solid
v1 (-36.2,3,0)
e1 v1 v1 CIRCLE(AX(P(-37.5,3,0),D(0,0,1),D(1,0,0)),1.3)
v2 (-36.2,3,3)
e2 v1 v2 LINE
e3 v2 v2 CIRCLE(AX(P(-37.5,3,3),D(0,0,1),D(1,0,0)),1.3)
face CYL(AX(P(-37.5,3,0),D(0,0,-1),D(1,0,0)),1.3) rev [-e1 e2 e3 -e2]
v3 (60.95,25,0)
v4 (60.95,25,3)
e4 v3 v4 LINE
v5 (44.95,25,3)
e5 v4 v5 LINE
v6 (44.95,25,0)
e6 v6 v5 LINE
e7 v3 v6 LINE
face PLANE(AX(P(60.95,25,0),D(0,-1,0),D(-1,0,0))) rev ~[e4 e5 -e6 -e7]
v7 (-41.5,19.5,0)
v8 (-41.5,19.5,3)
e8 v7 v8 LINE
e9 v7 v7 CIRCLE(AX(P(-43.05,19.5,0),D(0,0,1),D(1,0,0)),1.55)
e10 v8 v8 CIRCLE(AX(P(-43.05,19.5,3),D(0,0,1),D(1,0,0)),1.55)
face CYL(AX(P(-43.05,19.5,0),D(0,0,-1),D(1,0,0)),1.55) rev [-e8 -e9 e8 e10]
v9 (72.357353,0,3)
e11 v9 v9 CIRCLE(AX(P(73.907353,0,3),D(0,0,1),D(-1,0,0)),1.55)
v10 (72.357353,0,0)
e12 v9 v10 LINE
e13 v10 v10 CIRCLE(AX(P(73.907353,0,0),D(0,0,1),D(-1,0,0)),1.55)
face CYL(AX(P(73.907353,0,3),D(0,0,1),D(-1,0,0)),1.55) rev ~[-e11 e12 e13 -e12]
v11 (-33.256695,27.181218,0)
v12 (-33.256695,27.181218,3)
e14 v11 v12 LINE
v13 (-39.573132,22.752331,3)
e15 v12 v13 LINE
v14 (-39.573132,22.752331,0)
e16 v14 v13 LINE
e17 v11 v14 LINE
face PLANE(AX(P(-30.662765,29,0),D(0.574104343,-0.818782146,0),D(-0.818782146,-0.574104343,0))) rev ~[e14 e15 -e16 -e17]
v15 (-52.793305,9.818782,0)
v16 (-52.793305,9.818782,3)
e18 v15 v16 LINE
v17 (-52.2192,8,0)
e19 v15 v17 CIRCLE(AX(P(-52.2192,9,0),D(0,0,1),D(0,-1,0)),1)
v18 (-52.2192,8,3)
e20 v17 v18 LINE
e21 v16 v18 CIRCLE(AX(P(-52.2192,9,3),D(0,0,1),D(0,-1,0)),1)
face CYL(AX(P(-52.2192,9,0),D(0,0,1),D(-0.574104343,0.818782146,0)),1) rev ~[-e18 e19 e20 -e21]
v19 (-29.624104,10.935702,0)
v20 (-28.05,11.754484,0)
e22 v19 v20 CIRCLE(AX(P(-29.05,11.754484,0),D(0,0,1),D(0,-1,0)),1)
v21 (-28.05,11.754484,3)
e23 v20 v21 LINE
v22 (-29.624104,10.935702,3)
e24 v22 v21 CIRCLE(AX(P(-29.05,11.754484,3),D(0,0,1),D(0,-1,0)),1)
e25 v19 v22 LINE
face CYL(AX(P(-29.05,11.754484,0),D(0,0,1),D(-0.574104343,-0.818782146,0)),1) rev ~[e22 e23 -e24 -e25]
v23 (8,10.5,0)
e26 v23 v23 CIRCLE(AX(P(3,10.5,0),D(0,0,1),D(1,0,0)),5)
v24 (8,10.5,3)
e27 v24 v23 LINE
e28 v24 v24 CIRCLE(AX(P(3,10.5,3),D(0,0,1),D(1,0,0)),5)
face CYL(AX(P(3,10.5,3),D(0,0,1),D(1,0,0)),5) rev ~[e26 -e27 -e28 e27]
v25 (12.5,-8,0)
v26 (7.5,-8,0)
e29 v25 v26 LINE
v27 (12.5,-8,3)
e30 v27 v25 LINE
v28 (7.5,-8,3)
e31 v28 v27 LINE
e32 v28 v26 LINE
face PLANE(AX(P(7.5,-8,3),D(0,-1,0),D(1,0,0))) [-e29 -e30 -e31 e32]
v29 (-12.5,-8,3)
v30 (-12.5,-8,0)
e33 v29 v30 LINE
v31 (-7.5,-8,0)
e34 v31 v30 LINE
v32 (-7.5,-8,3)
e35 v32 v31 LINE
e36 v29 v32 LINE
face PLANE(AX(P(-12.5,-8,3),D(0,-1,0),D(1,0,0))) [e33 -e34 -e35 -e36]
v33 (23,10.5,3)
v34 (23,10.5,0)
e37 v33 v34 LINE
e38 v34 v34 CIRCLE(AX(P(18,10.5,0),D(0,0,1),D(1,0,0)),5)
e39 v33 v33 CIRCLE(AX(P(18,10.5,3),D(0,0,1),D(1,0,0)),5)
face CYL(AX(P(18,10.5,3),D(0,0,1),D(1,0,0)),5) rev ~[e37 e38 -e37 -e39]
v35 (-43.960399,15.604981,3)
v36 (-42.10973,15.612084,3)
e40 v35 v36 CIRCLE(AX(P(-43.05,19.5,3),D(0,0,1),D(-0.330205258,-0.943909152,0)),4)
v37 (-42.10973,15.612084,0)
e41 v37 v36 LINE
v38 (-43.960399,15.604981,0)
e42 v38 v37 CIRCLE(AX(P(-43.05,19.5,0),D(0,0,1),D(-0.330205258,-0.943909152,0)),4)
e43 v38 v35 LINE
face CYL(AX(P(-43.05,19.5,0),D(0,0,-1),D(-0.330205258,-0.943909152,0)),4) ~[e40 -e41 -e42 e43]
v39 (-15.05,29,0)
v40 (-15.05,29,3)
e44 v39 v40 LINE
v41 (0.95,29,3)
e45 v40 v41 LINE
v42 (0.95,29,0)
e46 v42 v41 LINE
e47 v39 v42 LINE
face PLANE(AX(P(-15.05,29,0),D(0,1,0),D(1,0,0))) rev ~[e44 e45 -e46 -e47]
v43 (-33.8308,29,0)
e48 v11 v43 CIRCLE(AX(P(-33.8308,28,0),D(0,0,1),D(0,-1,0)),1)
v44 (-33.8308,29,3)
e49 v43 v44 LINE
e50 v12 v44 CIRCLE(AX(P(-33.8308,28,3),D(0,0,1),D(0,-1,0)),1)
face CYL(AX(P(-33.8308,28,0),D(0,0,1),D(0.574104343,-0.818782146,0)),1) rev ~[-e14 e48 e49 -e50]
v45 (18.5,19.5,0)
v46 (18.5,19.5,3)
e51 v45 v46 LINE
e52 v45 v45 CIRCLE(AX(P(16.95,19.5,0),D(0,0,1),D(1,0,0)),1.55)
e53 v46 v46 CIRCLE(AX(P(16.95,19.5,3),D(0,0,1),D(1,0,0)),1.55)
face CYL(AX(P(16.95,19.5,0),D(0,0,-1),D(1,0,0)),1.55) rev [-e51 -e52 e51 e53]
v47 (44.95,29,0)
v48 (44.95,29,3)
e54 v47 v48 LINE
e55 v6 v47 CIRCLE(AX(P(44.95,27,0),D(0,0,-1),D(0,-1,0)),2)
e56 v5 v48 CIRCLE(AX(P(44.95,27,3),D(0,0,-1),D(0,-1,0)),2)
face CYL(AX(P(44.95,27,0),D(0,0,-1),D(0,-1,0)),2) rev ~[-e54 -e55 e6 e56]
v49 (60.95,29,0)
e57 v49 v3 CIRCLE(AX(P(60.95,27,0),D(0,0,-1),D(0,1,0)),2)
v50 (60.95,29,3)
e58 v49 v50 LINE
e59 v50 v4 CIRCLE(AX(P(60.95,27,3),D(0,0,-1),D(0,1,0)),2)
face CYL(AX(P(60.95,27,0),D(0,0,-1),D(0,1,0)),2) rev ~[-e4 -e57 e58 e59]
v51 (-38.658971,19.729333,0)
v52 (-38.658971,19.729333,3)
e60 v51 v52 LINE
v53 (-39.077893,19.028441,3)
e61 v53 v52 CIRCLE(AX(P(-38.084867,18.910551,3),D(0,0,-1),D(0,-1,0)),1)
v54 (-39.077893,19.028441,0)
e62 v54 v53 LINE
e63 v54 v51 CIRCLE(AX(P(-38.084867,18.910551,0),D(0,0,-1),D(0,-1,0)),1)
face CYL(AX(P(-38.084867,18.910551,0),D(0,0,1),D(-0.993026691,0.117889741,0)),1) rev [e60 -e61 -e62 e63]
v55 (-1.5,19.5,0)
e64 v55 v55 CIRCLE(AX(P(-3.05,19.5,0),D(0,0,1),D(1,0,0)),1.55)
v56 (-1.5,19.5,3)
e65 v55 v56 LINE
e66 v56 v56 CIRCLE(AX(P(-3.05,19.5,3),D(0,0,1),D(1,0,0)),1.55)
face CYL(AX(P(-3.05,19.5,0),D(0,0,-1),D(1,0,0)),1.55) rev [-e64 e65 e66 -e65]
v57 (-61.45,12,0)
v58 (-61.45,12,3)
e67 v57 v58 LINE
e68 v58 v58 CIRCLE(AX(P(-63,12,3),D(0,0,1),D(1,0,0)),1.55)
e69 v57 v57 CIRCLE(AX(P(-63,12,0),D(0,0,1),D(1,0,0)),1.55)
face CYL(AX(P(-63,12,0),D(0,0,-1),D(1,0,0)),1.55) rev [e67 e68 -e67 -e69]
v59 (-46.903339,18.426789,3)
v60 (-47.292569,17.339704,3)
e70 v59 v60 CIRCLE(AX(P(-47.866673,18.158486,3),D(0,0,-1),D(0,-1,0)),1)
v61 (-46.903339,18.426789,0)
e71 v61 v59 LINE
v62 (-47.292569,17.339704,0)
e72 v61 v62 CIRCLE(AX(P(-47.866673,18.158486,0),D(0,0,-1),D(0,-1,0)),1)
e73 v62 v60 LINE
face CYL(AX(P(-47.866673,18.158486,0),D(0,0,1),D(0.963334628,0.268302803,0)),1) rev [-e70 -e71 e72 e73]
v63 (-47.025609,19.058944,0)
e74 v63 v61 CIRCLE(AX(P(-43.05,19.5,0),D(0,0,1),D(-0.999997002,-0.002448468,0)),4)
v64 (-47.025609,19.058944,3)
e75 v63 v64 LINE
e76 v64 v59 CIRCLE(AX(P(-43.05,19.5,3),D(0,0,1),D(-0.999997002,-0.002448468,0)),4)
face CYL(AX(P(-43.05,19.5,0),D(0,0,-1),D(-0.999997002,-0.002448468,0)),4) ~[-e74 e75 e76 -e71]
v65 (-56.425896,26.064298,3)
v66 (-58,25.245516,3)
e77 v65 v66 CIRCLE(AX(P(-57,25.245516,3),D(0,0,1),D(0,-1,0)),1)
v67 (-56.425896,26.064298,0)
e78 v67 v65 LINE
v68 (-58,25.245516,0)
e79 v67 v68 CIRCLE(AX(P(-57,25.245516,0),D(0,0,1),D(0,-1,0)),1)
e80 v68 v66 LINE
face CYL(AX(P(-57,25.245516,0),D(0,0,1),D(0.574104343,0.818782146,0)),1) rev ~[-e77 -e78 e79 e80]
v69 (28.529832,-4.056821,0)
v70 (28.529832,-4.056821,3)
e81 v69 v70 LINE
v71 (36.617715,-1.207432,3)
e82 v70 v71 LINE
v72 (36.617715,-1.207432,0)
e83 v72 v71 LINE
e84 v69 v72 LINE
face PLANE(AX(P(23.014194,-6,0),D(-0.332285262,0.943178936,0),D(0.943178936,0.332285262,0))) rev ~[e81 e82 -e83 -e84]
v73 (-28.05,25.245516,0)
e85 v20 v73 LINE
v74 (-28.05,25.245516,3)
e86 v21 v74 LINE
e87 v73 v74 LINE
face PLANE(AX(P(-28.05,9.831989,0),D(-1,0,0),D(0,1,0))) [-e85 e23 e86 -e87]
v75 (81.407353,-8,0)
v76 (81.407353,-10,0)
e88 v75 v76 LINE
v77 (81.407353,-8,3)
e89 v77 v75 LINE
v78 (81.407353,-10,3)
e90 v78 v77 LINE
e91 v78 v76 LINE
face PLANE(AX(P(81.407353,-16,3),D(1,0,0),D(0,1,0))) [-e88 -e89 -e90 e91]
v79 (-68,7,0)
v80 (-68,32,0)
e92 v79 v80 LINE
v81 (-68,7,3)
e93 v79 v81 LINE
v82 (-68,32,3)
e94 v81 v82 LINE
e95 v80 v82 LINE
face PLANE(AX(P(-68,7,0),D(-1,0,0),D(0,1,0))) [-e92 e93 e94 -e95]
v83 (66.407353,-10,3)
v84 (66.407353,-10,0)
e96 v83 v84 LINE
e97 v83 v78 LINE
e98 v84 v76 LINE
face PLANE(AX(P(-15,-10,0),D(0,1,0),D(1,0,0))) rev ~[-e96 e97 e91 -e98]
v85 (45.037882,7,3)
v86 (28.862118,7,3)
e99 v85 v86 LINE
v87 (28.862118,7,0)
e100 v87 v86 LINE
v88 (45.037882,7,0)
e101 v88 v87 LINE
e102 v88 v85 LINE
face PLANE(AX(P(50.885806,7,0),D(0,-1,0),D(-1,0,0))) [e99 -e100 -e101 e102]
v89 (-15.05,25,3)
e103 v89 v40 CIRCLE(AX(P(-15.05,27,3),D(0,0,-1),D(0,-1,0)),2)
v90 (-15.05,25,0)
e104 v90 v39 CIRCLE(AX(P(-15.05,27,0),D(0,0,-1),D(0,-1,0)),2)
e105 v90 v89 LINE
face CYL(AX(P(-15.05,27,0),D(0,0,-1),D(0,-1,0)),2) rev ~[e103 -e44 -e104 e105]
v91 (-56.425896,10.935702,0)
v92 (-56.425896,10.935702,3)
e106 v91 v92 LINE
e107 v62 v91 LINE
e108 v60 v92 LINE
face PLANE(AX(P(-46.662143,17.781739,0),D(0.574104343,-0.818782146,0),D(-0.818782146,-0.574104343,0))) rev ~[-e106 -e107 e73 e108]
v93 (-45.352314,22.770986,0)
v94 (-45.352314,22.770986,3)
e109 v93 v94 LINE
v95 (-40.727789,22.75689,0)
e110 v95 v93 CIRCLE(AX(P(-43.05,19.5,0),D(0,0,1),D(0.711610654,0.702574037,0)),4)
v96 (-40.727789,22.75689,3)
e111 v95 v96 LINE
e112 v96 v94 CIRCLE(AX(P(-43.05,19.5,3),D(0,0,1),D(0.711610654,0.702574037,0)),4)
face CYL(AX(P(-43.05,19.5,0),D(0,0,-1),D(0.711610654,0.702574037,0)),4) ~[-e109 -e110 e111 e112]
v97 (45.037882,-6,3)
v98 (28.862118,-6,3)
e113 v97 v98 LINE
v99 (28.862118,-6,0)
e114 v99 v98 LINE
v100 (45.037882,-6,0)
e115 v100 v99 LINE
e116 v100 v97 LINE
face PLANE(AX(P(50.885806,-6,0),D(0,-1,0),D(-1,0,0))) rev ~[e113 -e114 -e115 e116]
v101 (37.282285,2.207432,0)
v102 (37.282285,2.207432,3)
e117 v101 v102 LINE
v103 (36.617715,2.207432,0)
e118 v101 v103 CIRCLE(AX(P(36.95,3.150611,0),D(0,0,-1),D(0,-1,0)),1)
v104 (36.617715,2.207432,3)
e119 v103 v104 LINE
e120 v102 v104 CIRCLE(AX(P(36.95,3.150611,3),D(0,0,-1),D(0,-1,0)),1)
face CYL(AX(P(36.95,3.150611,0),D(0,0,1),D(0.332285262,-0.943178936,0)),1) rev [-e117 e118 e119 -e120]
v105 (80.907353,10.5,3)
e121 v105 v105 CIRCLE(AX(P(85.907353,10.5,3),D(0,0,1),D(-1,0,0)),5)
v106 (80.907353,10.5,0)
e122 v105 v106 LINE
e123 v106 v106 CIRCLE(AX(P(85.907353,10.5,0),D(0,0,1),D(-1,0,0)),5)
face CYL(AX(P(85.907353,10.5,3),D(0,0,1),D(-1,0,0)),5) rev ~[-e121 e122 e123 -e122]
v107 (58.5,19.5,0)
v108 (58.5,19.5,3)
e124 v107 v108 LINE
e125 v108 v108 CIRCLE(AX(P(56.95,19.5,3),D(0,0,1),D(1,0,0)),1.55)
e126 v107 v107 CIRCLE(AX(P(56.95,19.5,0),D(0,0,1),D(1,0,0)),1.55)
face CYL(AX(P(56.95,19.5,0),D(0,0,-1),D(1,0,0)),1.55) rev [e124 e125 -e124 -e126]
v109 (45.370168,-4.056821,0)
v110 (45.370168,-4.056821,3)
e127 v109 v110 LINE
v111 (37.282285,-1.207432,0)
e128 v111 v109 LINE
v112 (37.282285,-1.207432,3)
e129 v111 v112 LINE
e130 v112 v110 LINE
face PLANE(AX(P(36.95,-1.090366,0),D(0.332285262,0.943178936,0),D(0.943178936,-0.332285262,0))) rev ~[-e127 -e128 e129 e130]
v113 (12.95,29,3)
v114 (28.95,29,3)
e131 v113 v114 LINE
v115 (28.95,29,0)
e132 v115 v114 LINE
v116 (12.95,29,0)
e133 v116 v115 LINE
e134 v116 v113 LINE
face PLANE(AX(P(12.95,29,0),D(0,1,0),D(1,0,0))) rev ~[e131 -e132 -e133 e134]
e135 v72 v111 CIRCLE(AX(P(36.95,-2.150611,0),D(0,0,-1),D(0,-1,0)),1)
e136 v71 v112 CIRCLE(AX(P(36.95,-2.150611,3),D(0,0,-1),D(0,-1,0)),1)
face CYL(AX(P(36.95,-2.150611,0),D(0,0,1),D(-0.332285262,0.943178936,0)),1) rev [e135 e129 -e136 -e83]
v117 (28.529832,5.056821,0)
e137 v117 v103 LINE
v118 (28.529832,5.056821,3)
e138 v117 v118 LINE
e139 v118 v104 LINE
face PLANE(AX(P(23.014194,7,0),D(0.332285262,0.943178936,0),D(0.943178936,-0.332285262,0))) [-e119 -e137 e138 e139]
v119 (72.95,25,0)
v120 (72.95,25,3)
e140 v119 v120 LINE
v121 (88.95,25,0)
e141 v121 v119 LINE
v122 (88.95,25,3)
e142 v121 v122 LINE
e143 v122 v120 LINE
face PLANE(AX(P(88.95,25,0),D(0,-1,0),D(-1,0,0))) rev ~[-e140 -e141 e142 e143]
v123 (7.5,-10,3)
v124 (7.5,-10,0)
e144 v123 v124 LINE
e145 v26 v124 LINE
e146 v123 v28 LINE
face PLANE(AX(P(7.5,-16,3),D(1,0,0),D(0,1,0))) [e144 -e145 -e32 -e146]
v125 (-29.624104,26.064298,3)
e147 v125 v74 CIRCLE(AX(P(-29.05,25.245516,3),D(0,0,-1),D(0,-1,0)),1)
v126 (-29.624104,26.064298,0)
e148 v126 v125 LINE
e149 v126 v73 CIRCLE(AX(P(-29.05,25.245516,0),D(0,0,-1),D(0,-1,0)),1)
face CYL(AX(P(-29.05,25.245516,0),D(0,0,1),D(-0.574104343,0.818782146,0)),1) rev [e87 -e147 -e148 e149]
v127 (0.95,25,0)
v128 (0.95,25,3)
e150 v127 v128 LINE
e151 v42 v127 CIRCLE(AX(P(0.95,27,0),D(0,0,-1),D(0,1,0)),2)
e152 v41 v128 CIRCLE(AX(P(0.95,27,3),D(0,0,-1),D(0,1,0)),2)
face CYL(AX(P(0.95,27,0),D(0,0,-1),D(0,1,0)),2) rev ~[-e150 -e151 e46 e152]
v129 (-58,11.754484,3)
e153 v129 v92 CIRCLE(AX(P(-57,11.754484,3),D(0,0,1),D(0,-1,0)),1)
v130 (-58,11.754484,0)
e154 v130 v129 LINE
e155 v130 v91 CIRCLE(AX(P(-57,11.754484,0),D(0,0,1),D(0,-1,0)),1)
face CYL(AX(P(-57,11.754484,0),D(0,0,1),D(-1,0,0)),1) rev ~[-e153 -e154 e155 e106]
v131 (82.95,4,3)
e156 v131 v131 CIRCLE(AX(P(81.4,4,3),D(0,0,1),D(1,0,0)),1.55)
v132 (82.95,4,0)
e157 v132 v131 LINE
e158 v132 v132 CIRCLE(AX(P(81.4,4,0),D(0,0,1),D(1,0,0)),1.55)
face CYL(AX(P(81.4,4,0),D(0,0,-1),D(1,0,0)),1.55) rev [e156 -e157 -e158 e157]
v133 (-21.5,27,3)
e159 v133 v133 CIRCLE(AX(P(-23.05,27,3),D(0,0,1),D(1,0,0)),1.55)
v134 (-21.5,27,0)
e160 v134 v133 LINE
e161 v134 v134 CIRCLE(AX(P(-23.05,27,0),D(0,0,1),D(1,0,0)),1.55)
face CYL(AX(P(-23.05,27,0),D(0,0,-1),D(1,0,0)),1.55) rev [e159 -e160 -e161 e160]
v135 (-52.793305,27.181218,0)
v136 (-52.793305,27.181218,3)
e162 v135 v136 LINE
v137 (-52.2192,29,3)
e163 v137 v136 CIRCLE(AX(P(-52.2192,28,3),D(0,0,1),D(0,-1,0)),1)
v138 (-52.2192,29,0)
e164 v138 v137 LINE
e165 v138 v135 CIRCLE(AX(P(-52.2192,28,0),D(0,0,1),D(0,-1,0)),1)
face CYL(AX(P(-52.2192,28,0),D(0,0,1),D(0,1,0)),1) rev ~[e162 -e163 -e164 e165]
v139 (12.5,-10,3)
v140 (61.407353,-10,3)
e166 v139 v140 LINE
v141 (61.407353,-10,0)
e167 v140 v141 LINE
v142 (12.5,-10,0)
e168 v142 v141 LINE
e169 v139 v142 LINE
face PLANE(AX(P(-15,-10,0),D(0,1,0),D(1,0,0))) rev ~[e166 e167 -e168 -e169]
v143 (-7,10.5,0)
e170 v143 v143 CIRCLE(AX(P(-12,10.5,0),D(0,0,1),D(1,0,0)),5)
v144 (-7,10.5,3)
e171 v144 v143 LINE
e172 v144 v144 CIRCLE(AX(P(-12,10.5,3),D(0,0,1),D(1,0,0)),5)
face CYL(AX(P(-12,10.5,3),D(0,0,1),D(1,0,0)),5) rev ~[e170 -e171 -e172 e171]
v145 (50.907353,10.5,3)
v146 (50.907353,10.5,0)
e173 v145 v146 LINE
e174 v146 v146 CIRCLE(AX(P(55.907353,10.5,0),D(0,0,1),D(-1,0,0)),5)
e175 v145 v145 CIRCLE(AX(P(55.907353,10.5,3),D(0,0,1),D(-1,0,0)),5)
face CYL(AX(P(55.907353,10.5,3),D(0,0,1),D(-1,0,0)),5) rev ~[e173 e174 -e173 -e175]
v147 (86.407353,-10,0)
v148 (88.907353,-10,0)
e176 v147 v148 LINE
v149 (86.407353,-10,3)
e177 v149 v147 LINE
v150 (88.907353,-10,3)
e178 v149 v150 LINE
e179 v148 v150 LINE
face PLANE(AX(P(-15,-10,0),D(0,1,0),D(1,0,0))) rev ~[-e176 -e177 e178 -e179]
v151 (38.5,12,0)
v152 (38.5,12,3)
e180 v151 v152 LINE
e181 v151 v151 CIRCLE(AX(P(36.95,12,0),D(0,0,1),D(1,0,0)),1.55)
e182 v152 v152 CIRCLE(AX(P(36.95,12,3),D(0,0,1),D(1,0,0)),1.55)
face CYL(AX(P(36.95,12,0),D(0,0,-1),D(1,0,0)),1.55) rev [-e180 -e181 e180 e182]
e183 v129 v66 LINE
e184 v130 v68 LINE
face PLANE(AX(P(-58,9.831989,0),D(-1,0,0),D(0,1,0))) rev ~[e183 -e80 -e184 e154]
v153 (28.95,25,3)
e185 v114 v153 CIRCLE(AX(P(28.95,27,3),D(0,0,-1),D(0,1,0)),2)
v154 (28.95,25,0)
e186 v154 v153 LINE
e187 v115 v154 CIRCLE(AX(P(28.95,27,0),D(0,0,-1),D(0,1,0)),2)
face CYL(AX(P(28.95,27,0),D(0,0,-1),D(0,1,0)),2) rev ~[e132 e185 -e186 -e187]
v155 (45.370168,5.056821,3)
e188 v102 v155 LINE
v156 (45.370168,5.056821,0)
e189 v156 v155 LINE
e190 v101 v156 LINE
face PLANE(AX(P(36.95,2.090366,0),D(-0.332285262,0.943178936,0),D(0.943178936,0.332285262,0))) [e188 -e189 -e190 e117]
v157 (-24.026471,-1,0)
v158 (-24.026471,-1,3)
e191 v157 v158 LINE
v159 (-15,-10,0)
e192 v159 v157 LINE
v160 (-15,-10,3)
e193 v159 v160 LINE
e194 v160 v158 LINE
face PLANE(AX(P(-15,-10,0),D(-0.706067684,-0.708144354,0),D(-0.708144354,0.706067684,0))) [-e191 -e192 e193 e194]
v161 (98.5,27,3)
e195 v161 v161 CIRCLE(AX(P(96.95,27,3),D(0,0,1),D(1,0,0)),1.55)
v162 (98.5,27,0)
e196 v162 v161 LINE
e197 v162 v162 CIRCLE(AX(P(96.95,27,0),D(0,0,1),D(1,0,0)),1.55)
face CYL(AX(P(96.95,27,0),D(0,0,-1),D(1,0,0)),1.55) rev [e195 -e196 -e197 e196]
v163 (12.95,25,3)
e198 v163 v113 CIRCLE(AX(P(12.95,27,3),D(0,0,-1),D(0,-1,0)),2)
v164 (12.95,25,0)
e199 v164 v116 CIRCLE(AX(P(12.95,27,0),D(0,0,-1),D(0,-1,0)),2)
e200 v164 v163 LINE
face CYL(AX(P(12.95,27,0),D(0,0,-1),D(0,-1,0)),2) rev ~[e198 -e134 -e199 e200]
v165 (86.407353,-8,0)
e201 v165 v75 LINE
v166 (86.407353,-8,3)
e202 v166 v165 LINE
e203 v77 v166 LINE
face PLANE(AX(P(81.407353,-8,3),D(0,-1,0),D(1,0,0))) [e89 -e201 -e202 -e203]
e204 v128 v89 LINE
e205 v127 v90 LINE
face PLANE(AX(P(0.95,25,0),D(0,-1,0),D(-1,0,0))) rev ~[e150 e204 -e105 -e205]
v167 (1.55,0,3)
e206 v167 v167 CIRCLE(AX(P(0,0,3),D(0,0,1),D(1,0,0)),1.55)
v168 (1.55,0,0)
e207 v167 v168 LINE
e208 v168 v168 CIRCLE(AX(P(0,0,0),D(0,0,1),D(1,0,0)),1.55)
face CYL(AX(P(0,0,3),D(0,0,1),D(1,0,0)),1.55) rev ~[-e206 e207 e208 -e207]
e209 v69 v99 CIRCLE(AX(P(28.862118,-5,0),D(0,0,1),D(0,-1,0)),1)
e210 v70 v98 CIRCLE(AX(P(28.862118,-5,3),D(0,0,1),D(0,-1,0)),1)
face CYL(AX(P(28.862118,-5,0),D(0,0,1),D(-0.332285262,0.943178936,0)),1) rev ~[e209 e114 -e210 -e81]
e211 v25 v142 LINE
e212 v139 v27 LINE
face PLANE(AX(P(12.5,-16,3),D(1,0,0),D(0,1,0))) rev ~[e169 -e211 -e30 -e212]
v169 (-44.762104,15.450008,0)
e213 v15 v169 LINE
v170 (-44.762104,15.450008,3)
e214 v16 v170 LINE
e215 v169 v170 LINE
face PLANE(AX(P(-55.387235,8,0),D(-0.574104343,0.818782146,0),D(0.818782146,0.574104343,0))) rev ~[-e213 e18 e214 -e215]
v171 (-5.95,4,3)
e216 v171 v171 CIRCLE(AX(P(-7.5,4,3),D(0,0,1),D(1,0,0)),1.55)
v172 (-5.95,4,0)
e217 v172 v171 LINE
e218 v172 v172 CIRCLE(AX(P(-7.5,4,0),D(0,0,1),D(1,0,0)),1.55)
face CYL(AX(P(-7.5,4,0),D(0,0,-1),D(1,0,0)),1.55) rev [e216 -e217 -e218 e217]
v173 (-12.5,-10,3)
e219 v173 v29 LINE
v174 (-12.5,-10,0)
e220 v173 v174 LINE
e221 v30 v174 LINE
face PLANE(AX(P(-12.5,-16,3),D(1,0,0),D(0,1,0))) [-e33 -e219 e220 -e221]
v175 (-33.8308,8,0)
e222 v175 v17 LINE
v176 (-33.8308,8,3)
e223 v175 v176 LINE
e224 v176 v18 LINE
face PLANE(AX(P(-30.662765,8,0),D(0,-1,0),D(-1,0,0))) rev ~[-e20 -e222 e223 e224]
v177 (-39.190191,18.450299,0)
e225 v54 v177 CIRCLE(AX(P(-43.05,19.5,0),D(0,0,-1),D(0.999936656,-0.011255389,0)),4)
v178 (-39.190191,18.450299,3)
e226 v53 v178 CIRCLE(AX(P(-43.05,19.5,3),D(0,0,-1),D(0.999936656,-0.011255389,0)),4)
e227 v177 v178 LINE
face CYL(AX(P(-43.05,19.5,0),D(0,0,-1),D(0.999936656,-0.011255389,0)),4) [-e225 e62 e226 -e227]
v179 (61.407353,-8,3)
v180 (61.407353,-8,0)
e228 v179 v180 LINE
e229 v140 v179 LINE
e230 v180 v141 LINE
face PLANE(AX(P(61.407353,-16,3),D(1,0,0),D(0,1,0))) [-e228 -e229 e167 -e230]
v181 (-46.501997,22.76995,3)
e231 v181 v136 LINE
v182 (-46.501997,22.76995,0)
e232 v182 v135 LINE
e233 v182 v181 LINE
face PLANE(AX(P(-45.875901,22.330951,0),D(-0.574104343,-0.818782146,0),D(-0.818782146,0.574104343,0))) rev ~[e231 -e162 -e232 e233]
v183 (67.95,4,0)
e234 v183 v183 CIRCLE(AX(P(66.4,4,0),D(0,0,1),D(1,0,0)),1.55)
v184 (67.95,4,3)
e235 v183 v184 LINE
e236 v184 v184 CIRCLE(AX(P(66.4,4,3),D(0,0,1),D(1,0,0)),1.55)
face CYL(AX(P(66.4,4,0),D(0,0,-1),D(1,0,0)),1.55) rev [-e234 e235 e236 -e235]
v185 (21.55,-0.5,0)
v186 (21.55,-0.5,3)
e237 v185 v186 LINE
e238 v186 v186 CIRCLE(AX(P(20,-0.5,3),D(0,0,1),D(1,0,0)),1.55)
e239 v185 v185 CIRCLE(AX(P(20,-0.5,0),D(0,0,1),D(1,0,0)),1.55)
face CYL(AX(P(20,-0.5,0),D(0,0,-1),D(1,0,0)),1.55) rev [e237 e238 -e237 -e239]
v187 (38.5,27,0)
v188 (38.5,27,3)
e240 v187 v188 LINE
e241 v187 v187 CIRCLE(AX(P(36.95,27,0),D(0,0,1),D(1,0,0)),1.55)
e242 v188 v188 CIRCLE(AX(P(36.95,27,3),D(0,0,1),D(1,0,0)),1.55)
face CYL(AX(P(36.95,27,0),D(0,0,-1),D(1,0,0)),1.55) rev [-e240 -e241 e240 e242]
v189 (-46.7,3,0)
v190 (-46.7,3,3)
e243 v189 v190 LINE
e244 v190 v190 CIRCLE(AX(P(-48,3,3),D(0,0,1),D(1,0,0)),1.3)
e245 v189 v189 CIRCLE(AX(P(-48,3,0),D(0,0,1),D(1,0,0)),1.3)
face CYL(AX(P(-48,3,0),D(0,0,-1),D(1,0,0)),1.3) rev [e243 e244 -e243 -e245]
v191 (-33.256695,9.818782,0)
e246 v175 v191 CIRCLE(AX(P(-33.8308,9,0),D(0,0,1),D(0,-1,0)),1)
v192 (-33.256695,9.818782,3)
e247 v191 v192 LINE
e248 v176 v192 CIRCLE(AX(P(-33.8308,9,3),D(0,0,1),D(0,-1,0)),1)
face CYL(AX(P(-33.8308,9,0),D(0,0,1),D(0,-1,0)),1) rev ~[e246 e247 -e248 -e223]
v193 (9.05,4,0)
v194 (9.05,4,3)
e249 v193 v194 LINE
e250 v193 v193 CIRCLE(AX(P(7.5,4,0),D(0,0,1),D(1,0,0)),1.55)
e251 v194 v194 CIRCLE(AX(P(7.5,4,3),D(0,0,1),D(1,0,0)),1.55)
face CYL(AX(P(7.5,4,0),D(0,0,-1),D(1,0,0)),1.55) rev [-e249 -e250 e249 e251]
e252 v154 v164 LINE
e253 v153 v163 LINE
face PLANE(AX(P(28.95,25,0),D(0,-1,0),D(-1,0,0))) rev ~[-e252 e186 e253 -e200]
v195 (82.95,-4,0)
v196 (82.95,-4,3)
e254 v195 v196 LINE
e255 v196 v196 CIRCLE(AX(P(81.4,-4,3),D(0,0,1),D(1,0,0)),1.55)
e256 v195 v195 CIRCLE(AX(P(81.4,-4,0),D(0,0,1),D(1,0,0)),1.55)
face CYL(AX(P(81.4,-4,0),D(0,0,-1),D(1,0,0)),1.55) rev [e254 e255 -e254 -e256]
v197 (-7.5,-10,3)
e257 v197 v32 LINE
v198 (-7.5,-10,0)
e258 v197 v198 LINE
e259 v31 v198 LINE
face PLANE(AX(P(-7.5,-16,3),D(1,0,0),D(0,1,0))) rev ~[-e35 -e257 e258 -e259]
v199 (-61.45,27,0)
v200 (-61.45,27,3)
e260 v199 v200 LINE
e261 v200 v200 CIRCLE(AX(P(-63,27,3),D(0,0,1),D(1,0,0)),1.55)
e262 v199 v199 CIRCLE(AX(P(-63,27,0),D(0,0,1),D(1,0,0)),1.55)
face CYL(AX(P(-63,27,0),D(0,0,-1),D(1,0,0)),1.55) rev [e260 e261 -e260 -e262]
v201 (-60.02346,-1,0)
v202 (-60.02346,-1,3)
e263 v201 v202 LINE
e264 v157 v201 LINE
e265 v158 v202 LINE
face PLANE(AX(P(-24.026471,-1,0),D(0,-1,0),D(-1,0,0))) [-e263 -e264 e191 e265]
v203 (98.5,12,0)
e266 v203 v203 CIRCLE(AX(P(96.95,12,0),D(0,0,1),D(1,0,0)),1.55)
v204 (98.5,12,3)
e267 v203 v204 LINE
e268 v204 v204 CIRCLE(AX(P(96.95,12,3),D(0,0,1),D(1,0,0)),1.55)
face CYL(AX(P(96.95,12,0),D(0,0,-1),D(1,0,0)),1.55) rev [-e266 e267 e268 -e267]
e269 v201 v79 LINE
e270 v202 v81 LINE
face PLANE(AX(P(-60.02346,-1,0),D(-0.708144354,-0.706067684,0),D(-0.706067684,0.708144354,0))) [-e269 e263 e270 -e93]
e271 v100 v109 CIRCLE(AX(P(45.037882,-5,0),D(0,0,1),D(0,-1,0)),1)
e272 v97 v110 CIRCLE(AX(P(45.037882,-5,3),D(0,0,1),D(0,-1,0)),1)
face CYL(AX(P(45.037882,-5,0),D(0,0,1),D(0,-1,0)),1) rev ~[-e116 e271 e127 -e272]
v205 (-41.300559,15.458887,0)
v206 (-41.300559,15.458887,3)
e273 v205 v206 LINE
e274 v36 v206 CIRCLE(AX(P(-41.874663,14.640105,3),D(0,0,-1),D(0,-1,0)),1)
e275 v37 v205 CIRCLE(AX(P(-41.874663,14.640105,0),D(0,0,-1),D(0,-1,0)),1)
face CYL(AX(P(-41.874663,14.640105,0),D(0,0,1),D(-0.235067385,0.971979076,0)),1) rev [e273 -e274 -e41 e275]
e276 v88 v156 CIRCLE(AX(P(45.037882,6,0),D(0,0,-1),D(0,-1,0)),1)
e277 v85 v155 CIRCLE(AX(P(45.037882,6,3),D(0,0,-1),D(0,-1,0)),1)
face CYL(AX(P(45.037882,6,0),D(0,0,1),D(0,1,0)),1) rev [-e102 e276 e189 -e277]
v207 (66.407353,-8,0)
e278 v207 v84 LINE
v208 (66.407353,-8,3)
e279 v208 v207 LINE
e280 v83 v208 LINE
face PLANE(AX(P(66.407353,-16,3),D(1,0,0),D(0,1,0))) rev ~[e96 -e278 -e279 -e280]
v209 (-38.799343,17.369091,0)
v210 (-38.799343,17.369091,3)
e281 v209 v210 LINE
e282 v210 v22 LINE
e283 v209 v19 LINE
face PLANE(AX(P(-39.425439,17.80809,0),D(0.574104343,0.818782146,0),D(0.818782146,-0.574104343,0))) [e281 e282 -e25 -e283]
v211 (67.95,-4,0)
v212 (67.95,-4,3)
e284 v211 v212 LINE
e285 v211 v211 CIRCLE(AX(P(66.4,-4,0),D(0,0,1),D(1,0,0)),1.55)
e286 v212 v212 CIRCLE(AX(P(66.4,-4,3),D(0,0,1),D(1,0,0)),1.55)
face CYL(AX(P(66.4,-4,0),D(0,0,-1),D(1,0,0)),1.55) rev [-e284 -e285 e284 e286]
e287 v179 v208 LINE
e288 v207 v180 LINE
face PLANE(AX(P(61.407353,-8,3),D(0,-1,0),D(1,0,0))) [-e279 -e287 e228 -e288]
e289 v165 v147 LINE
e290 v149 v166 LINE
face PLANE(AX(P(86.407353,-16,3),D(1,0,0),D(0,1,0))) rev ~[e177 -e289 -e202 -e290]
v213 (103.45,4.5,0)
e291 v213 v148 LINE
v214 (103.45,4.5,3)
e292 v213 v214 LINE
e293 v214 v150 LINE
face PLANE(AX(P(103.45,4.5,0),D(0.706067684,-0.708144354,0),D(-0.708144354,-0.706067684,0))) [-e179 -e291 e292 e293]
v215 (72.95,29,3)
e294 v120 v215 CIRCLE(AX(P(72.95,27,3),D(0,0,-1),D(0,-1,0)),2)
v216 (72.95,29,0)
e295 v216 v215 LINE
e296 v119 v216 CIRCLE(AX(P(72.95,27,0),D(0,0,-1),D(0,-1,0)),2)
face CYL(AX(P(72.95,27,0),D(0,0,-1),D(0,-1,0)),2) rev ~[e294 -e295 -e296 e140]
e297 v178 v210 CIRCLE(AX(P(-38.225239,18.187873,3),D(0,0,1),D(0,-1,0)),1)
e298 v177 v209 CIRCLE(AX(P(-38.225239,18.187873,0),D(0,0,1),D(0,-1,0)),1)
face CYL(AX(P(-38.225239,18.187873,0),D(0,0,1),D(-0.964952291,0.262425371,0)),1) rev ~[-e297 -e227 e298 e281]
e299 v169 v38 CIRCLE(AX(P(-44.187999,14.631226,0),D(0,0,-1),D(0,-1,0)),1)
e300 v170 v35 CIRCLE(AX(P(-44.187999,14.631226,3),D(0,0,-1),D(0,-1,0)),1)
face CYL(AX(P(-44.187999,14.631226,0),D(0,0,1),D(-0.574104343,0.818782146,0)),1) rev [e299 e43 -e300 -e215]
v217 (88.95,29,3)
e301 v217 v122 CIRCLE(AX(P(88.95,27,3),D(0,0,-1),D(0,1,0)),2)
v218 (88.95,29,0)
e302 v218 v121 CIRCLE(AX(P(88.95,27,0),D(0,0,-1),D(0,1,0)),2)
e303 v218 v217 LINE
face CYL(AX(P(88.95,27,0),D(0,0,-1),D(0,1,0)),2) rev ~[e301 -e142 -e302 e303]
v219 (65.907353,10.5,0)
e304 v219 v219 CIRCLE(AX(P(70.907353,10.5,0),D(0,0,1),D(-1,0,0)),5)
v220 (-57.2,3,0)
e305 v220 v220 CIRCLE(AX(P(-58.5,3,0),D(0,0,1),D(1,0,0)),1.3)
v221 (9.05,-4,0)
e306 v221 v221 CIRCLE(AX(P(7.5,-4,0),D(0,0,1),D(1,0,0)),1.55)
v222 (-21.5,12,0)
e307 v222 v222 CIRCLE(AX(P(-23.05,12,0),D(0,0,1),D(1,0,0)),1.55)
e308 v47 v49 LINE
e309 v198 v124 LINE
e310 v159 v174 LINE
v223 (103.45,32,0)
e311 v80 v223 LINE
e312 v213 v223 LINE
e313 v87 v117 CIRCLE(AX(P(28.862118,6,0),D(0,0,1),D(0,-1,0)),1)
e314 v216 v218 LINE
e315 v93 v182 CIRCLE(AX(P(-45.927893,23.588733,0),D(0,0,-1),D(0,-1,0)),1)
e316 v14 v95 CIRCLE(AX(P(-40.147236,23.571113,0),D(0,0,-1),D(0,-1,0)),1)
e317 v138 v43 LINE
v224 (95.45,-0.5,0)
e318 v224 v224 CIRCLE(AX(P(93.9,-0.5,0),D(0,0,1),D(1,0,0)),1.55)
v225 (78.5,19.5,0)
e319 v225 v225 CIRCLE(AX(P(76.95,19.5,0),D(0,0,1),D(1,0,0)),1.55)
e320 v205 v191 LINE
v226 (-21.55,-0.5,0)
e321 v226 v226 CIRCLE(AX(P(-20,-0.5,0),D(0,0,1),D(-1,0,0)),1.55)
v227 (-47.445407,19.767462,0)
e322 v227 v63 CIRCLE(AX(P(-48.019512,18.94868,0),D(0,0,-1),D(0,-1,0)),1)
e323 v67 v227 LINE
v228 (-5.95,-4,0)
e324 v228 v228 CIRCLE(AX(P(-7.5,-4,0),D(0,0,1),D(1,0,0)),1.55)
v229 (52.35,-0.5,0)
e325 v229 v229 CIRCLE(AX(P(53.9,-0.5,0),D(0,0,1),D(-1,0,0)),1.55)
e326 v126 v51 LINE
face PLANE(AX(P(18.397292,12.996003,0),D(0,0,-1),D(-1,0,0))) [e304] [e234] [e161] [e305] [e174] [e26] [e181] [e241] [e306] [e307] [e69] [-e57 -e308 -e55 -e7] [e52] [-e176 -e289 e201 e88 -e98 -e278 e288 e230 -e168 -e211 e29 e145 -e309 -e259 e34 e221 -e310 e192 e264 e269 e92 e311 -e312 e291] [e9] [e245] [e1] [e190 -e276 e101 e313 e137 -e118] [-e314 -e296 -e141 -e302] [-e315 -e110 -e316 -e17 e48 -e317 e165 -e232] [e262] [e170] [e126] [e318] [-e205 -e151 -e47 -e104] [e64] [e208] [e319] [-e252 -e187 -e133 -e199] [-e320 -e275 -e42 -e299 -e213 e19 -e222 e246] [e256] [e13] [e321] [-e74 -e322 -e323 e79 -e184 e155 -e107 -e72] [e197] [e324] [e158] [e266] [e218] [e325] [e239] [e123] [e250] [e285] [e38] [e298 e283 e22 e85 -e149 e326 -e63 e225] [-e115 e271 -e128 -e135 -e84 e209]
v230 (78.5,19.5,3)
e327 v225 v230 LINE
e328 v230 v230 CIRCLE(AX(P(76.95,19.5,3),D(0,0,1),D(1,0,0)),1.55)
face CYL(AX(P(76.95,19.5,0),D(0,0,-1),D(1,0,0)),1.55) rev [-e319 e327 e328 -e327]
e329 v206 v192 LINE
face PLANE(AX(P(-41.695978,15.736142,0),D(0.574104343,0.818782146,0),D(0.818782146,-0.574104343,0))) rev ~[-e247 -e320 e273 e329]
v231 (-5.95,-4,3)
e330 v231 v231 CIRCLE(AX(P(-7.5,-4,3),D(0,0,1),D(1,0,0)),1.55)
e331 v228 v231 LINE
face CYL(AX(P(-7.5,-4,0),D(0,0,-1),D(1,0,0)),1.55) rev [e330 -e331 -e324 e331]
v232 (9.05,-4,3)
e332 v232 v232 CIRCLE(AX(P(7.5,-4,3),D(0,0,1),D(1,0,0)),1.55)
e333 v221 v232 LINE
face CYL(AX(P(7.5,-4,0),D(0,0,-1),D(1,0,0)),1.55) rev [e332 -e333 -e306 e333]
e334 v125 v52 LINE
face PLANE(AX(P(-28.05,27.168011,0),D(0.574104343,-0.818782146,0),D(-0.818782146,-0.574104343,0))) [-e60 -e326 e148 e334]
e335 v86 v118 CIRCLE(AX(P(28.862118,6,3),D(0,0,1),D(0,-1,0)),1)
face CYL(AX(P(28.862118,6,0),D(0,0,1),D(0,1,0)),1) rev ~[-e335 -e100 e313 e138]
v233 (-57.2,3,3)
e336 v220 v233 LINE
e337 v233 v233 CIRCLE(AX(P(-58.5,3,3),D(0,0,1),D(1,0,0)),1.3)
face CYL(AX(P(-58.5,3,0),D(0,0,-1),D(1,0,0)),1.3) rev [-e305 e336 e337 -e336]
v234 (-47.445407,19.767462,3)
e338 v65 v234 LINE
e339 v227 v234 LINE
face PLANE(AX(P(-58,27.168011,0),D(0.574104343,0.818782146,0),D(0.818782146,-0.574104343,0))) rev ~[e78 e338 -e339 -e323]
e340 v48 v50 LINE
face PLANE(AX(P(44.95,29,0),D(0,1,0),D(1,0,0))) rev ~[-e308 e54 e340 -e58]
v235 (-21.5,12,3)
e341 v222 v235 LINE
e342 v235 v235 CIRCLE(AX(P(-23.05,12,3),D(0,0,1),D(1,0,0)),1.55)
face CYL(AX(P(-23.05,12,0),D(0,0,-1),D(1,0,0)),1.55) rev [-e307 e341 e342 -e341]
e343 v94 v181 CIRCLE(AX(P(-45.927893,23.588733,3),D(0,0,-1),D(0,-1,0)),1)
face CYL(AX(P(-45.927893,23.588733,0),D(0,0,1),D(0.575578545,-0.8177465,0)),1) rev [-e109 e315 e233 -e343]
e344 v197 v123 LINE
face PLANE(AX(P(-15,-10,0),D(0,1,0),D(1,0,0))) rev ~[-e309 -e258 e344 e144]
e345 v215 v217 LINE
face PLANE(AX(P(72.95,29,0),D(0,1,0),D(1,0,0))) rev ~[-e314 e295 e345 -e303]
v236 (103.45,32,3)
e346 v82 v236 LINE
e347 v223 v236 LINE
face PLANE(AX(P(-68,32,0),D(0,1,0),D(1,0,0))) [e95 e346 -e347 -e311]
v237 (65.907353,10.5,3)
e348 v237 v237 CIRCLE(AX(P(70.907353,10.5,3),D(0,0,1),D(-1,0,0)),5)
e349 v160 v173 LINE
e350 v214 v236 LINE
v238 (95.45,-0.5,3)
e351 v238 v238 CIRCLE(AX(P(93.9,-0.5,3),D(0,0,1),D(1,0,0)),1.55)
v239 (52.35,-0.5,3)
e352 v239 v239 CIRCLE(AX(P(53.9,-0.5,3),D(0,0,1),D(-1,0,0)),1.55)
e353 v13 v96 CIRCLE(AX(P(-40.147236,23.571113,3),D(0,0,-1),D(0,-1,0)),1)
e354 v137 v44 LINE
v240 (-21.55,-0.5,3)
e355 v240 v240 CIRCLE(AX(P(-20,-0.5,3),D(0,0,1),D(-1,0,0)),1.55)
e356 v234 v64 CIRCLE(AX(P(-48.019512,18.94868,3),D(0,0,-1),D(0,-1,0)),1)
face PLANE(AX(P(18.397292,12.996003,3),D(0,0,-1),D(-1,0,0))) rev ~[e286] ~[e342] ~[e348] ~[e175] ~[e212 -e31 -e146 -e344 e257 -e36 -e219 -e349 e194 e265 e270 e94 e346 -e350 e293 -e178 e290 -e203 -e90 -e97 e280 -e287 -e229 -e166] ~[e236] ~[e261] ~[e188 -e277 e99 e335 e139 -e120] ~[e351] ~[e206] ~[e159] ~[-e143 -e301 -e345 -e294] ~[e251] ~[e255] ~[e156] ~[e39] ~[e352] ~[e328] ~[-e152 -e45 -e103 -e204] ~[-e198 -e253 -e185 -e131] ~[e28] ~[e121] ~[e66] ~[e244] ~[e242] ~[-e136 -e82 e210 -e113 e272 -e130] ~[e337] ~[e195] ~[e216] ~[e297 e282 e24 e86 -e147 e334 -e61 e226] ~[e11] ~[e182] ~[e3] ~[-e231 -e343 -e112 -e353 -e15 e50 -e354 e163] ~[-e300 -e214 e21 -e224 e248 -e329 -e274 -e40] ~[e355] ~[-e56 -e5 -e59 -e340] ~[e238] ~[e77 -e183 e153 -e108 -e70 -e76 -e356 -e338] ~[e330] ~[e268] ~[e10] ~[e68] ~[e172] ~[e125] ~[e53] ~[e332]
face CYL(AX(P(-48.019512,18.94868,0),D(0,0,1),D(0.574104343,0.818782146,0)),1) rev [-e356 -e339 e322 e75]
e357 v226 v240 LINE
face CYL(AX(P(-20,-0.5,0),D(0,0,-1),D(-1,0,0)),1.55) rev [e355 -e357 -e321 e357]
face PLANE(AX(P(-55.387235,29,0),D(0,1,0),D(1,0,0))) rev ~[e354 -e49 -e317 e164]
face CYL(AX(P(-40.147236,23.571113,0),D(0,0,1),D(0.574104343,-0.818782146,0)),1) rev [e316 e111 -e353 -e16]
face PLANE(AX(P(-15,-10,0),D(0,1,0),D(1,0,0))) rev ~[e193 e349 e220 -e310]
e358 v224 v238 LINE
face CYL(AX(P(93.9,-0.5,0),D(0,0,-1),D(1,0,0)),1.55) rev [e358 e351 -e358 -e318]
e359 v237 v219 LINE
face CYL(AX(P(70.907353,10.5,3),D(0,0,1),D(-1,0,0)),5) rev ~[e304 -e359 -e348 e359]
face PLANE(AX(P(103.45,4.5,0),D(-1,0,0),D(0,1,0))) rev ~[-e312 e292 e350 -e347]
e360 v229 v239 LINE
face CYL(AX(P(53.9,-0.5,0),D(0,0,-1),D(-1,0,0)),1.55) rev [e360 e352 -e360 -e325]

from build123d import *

# Parameters (mm, degrees)
SKETCH_1_R          = 1.55
SKETCH_1_R_2        = 1.3
EXTRUDE_1_DEPTH     = 3
FILLET_1_R          = 1
SKETCH_2_R          = 5
SKETCH_2_R_2        = 1.55
CUT_EXTRUDE_1_DEPTH = 10
SKETCH_3_W          = 5
SKETCH_3_H          = 8
CUT_EXTRUDE_2_DEPTH = 10


with BuildPart() as part:
    # 草图1 → 凸台-拉伸1 (new body)
    with BuildSketch(Plane.XY):
        Polygon((-68, 32), (103.45, 32), (103.45, 7), (103.45, 4.5), (88.907352941, -10), (86.4, -10), (-12.5, -10), (-15, -10), (-24.026470588, -1), (-60.023460411, -1), (-68, 7), align=None)
        with Locations((-7.5, 4)):
            Circle(SKETCH_1_R, mode=Mode.SUBTRACT)
        with Locations((-7.5, -4)):
            Circle(SKETCH_1_R, mode=Mode.SUBTRACT)
        with Locations((7.5, -4)):
            Circle(SKETCH_1_R, mode=Mode.SUBTRACT)
        with Locations((7.5, 4)):
            Circle(SKETCH_1_R, mode=Mode.SUBTRACT)
        with Locations((66.4, 4)):
            Circle(SKETCH_1_R, mode=Mode.SUBTRACT)
        with Locations((66.4, -4)):
            Circle(SKETCH_1_R, mode=Mode.SUBTRACT)
        with Locations((81.4, 4)):
            Circle(SKETCH_1_R, mode=Mode.SUBTRACT)
        with Locations((81.4, -4)):
            Circle(SKETCH_1_R, mode=Mode.SUBTRACT)
        with Locations((-63, 27)):
            Circle(SKETCH_1_R, mode=Mode.SUBTRACT)
        with Locations((-63, 12)):
            Circle(SKETCH_1_R, mode=Mode.SUBTRACT)
        with Locations((16.95, 19.5)):
            Circle(SKETCH_1_R, mode=Mode.SUBTRACT)
        with Locations((-3.05, 19.5)):
            Circle(SKETCH_1_R, mode=Mode.SUBTRACT)
        with Locations((-23.05, 27)):
            Circle(SKETCH_1_R, mode=Mode.SUBTRACT)
        with Locations((-23.05, 12)):
            Circle(SKETCH_1_R, mode=Mode.SUBTRACT)
        with Locations((36.95, 27)):
            Circle(SKETCH_1_R, mode=Mode.SUBTRACT)
        with Locations((36.95, 12)):
            Circle(SKETCH_1_R, mode=Mode.SUBTRACT)
        with Locations((56.95, 19.5)):
            Circle(SKETCH_1_R, mode=Mode.SUBTRACT)
        with Locations((76.95, 19.5)):
            Circle(SKETCH_1_R, mode=Mode.SUBTRACT)
        with Locations((96.95, 27)):
            Circle(SKETCH_1_R, mode=Mode.SUBTRACT)
        with Locations((96.95, 12)):
            Circle(SKETCH_1_R, mode=Mode.SUBTRACT)
        with Locations((-48, 3)):
            Circle(SKETCH_1_R_2, mode=Mode.SUBTRACT)
        with Locations((-37.5, 3)):
            Circle(SKETCH_1_R_2, mode=Mode.SUBTRACT)
        with Locations((-58.5, 3)):
            Circle(SKETCH_1_R_2, mode=Mode.SUBTRACT)
        with Locations((-43.05, 19.5)):
            Circle(SKETCH_1_R, mode=Mode.SUBTRACT)
        with Locations((93.9, -0.5)):
            Circle(SKETCH_1_R, mode=Mode.SUBTRACT)
        with Locations(Location((53.9, -0.5, 0), (0, 0, 180))):
            Circle(SKETCH_1_R, mode=Mode.SUBTRACT)
        with Locations(Location((-20, -0.5, 0), (0, 0, 180))):
            Circle(SKETCH_1_R, mode=Mode.SUBTRACT)
        with Locations((20, -0.5)):
            Circle(SKETCH_1_R, mode=Mode.SUBTRACT)
        with BuildLine():
            Line((-15.05, 29), (0.95, 29))
            ThreePointArc((0.95, 29), (2.95, 27), (0.95, 25))
            Line((0.95, 25), (-15.05, 25))
            ThreePointArc((-15.05, 25), (-17.05, 27), (-15.05, 29))
        make_face(mode=Mode.SUBTRACT)
        with BuildLine():
            Line((12.95, 29), (28.95, 29))
            ThreePointArc((28.95, 29), (30.95, 27), (28.95, 25))
            Line((28.95, 25), (12.95, 25))
            ThreePointArc((12.95, 25), (10.95, 27), (12.95, 29))
        make_face(mode=Mode.SUBTRACT)
        with BuildLine():
            Line((44.95, 29), (60.95, 29))
            ThreePointArc((60.95, 29), (62.95, 27), (60.95, 25))
            Line((60.95, 25), (44.95, 25))
            ThreePointArc((44.95, 25), (42.95, 27), (44.95, 29))
        make_face(mode=Mode.SUBTRACT)
        with BuildLine():
            Line((72.95, 29), (88.95, 29))
            ThreePointArc((88.95, 29), (90.95, 27), (88.95, 25))
            Line((88.95, 25), (72.95, 25))
            ThreePointArc((72.95, 25), (70.95, 27), (72.95, 29))
        make_face(mode=Mode.SUBTRACT)
        with BuildLine():
            Line((-30.662765464, 29), (-40.203557385, 22.310296148))
            ThreePointArc((-40.203557385, 22.310296148), (-43.03543461, 23.499973481), (-45.875900736, 22.330951259))
            Line((-45.875900736, 22.330951259), (-55.387234536, 29))
            Line((-55.387234536, 29), (-30.662765464, 29))
        make_face(mode=Mode.SUBTRACT)
        with BuildLine():
            Line((-55.387234536, 8), (-44.370821033, 15.724363392))
            ThreePointArc((-44.370821033, 15.724363392), (-43.032385745, 15.500038783), (-41.695978002, 15.736142347))
            Line((-41.695978002, 15.736142347), (-30.662765464, 8))
            Line((-30.662765464, 8), (-55.387234536, 8))
        make_face(mode=Mode.SUBTRACT)
        with BuildLine():
            Line((-58, 27.16801086), (-47.04998801, 19.490206126))
            ThreePointArc((-47.04998801, 19.490206126), (-46.950749965, 18.614477719), (-46.662143081, 17.781738565))
            Line((-46.662143081, 17.781738565), (-58, 9.83198914))
            Line((-58, 9.83198914), (-58, 27.16801086))
        make_face(mode=Mode.SUBTRACT)
        with BuildLine():
            Line((-39.425439217, 17.808090093), (-28.05, 9.83198914))
            Line((-28.05, 9.83198914), (-28.05, 27.16801086))
            Line((-28.05, 27.16801086), (-39.050253376, 19.454978443))
            ThreePointArc((-39.050253376, 19.454978443), (-39.149926133, 18.611504738), (-39.425439217, 17.808090093))
        make_face(mode=Mode.SUBTRACT)
        Polygon((23.014193592, -6), (36.95, -1.090366306), (50.885806408, -6), align=None, mode=Mode.SUBTRACT)
        Polygon((23.014193592, 7), (36.95, 2.090366306), (50.885806408, 7), align=None, mode=Mode.SUBTRACT)
    extrude(amount=EXTRUDE_1_DEPTH)

    # 圆角1
    fillet_1_edges = [part.edges().sort_by_distance(p)[0] for p in [
        (-30.662765464, 29, 1.5),
        (-55.387234536, 29, 1.5),
        (-45.875900736, 22.330951259, 1.5),
        (-40.203557385, 22.310296148, 1.5),
        (-55.387234536, 8, 1.5),
        (-30.662765464, 8, 1.5),
        (-41.695978002, 15.736142347, 1.5),
        (-44.370821033, 15.724363392, 1.5),
        (-58, 27.16801086, 1.5),
        (-58, 9.83198914, 1.5),
        (-46.662143081, 17.781738565, 1.5),
        (-47.04998801, 19.490206126, 1.5),
        (-28.05, 9.83198914, 1.5),
        (-28.05, 27.16801086, 1.5),
        (-39.050253376, 19.454978443, 1.5),
        (-39.425439217, 17.808090093, 1.5),
        (50.885806408, 7, 1.5),
        (23.014193592, 7, 1.5),
        (36.95, 2.090366306, 1.5),
        (23.014193592, -6, 1.5),
        (50.885806408, -6, 1.5),
        (36.95, -1.090366306, 1.5),
    ]]
    fillet(fillet_1_edges, radius=FILLET_1_R)

    # 草图2 → 切除-拉伸1 (cut)
    with BuildSketch(Plane.XY.offset(3)):
        with Locations((-12, 10.5)):
            Circle(SKETCH_2_R)
        with Locations((3, 10.5)):
            Circle(SKETCH_2_R)
        with Locations((18, 10.5)):
            Circle(SKETCH_2_R)
        with Locations(Location((55.907352941, 10.5, 0), (0, 0, 180))):
            Circle(SKETCH_2_R)
        with Locations(Location((70.907352941, 10.5, 0), (0, 0, 180))):
            Circle(SKETCH_2_R)
        with Locations(Location((85.907352941, 10.5, 0), (0, 0, 180))):
            Circle(SKETCH_2_R)
        Circle(SKETCH_2_R_2)
        with Locations(Location((73.907352941, 0, 0), (0, 0, 180))):
            Circle(SKETCH_2_R_2)
    extrude(amount=-CUT_EXTRUDE_1_DEPTH, mode=Mode.SUBTRACT)

    # 草图3 → 切除-拉伸2 (cut)
    with BuildSketch(Plane.XY.offset(3)):
        with Locations((-10, -12)):
            Rectangle(SKETCH_3_W, SKETCH_3_H)
        with Locations((10, -12)):
            Rectangle(SKETCH_3_W, SKETCH_3_H)
        with Locations((63.907352941, -12)):
            Rectangle(SKETCH_3_W, SKETCH_3_H)
        with Locations((83.907352941, -12)):
            Rectangle(SKETCH_3_W, SKETCH_3_H)
    extrude(amount=-CUT_EXTRUDE_2_DEPTH, mode=Mode.SUBTRACT)


solid = part.part
